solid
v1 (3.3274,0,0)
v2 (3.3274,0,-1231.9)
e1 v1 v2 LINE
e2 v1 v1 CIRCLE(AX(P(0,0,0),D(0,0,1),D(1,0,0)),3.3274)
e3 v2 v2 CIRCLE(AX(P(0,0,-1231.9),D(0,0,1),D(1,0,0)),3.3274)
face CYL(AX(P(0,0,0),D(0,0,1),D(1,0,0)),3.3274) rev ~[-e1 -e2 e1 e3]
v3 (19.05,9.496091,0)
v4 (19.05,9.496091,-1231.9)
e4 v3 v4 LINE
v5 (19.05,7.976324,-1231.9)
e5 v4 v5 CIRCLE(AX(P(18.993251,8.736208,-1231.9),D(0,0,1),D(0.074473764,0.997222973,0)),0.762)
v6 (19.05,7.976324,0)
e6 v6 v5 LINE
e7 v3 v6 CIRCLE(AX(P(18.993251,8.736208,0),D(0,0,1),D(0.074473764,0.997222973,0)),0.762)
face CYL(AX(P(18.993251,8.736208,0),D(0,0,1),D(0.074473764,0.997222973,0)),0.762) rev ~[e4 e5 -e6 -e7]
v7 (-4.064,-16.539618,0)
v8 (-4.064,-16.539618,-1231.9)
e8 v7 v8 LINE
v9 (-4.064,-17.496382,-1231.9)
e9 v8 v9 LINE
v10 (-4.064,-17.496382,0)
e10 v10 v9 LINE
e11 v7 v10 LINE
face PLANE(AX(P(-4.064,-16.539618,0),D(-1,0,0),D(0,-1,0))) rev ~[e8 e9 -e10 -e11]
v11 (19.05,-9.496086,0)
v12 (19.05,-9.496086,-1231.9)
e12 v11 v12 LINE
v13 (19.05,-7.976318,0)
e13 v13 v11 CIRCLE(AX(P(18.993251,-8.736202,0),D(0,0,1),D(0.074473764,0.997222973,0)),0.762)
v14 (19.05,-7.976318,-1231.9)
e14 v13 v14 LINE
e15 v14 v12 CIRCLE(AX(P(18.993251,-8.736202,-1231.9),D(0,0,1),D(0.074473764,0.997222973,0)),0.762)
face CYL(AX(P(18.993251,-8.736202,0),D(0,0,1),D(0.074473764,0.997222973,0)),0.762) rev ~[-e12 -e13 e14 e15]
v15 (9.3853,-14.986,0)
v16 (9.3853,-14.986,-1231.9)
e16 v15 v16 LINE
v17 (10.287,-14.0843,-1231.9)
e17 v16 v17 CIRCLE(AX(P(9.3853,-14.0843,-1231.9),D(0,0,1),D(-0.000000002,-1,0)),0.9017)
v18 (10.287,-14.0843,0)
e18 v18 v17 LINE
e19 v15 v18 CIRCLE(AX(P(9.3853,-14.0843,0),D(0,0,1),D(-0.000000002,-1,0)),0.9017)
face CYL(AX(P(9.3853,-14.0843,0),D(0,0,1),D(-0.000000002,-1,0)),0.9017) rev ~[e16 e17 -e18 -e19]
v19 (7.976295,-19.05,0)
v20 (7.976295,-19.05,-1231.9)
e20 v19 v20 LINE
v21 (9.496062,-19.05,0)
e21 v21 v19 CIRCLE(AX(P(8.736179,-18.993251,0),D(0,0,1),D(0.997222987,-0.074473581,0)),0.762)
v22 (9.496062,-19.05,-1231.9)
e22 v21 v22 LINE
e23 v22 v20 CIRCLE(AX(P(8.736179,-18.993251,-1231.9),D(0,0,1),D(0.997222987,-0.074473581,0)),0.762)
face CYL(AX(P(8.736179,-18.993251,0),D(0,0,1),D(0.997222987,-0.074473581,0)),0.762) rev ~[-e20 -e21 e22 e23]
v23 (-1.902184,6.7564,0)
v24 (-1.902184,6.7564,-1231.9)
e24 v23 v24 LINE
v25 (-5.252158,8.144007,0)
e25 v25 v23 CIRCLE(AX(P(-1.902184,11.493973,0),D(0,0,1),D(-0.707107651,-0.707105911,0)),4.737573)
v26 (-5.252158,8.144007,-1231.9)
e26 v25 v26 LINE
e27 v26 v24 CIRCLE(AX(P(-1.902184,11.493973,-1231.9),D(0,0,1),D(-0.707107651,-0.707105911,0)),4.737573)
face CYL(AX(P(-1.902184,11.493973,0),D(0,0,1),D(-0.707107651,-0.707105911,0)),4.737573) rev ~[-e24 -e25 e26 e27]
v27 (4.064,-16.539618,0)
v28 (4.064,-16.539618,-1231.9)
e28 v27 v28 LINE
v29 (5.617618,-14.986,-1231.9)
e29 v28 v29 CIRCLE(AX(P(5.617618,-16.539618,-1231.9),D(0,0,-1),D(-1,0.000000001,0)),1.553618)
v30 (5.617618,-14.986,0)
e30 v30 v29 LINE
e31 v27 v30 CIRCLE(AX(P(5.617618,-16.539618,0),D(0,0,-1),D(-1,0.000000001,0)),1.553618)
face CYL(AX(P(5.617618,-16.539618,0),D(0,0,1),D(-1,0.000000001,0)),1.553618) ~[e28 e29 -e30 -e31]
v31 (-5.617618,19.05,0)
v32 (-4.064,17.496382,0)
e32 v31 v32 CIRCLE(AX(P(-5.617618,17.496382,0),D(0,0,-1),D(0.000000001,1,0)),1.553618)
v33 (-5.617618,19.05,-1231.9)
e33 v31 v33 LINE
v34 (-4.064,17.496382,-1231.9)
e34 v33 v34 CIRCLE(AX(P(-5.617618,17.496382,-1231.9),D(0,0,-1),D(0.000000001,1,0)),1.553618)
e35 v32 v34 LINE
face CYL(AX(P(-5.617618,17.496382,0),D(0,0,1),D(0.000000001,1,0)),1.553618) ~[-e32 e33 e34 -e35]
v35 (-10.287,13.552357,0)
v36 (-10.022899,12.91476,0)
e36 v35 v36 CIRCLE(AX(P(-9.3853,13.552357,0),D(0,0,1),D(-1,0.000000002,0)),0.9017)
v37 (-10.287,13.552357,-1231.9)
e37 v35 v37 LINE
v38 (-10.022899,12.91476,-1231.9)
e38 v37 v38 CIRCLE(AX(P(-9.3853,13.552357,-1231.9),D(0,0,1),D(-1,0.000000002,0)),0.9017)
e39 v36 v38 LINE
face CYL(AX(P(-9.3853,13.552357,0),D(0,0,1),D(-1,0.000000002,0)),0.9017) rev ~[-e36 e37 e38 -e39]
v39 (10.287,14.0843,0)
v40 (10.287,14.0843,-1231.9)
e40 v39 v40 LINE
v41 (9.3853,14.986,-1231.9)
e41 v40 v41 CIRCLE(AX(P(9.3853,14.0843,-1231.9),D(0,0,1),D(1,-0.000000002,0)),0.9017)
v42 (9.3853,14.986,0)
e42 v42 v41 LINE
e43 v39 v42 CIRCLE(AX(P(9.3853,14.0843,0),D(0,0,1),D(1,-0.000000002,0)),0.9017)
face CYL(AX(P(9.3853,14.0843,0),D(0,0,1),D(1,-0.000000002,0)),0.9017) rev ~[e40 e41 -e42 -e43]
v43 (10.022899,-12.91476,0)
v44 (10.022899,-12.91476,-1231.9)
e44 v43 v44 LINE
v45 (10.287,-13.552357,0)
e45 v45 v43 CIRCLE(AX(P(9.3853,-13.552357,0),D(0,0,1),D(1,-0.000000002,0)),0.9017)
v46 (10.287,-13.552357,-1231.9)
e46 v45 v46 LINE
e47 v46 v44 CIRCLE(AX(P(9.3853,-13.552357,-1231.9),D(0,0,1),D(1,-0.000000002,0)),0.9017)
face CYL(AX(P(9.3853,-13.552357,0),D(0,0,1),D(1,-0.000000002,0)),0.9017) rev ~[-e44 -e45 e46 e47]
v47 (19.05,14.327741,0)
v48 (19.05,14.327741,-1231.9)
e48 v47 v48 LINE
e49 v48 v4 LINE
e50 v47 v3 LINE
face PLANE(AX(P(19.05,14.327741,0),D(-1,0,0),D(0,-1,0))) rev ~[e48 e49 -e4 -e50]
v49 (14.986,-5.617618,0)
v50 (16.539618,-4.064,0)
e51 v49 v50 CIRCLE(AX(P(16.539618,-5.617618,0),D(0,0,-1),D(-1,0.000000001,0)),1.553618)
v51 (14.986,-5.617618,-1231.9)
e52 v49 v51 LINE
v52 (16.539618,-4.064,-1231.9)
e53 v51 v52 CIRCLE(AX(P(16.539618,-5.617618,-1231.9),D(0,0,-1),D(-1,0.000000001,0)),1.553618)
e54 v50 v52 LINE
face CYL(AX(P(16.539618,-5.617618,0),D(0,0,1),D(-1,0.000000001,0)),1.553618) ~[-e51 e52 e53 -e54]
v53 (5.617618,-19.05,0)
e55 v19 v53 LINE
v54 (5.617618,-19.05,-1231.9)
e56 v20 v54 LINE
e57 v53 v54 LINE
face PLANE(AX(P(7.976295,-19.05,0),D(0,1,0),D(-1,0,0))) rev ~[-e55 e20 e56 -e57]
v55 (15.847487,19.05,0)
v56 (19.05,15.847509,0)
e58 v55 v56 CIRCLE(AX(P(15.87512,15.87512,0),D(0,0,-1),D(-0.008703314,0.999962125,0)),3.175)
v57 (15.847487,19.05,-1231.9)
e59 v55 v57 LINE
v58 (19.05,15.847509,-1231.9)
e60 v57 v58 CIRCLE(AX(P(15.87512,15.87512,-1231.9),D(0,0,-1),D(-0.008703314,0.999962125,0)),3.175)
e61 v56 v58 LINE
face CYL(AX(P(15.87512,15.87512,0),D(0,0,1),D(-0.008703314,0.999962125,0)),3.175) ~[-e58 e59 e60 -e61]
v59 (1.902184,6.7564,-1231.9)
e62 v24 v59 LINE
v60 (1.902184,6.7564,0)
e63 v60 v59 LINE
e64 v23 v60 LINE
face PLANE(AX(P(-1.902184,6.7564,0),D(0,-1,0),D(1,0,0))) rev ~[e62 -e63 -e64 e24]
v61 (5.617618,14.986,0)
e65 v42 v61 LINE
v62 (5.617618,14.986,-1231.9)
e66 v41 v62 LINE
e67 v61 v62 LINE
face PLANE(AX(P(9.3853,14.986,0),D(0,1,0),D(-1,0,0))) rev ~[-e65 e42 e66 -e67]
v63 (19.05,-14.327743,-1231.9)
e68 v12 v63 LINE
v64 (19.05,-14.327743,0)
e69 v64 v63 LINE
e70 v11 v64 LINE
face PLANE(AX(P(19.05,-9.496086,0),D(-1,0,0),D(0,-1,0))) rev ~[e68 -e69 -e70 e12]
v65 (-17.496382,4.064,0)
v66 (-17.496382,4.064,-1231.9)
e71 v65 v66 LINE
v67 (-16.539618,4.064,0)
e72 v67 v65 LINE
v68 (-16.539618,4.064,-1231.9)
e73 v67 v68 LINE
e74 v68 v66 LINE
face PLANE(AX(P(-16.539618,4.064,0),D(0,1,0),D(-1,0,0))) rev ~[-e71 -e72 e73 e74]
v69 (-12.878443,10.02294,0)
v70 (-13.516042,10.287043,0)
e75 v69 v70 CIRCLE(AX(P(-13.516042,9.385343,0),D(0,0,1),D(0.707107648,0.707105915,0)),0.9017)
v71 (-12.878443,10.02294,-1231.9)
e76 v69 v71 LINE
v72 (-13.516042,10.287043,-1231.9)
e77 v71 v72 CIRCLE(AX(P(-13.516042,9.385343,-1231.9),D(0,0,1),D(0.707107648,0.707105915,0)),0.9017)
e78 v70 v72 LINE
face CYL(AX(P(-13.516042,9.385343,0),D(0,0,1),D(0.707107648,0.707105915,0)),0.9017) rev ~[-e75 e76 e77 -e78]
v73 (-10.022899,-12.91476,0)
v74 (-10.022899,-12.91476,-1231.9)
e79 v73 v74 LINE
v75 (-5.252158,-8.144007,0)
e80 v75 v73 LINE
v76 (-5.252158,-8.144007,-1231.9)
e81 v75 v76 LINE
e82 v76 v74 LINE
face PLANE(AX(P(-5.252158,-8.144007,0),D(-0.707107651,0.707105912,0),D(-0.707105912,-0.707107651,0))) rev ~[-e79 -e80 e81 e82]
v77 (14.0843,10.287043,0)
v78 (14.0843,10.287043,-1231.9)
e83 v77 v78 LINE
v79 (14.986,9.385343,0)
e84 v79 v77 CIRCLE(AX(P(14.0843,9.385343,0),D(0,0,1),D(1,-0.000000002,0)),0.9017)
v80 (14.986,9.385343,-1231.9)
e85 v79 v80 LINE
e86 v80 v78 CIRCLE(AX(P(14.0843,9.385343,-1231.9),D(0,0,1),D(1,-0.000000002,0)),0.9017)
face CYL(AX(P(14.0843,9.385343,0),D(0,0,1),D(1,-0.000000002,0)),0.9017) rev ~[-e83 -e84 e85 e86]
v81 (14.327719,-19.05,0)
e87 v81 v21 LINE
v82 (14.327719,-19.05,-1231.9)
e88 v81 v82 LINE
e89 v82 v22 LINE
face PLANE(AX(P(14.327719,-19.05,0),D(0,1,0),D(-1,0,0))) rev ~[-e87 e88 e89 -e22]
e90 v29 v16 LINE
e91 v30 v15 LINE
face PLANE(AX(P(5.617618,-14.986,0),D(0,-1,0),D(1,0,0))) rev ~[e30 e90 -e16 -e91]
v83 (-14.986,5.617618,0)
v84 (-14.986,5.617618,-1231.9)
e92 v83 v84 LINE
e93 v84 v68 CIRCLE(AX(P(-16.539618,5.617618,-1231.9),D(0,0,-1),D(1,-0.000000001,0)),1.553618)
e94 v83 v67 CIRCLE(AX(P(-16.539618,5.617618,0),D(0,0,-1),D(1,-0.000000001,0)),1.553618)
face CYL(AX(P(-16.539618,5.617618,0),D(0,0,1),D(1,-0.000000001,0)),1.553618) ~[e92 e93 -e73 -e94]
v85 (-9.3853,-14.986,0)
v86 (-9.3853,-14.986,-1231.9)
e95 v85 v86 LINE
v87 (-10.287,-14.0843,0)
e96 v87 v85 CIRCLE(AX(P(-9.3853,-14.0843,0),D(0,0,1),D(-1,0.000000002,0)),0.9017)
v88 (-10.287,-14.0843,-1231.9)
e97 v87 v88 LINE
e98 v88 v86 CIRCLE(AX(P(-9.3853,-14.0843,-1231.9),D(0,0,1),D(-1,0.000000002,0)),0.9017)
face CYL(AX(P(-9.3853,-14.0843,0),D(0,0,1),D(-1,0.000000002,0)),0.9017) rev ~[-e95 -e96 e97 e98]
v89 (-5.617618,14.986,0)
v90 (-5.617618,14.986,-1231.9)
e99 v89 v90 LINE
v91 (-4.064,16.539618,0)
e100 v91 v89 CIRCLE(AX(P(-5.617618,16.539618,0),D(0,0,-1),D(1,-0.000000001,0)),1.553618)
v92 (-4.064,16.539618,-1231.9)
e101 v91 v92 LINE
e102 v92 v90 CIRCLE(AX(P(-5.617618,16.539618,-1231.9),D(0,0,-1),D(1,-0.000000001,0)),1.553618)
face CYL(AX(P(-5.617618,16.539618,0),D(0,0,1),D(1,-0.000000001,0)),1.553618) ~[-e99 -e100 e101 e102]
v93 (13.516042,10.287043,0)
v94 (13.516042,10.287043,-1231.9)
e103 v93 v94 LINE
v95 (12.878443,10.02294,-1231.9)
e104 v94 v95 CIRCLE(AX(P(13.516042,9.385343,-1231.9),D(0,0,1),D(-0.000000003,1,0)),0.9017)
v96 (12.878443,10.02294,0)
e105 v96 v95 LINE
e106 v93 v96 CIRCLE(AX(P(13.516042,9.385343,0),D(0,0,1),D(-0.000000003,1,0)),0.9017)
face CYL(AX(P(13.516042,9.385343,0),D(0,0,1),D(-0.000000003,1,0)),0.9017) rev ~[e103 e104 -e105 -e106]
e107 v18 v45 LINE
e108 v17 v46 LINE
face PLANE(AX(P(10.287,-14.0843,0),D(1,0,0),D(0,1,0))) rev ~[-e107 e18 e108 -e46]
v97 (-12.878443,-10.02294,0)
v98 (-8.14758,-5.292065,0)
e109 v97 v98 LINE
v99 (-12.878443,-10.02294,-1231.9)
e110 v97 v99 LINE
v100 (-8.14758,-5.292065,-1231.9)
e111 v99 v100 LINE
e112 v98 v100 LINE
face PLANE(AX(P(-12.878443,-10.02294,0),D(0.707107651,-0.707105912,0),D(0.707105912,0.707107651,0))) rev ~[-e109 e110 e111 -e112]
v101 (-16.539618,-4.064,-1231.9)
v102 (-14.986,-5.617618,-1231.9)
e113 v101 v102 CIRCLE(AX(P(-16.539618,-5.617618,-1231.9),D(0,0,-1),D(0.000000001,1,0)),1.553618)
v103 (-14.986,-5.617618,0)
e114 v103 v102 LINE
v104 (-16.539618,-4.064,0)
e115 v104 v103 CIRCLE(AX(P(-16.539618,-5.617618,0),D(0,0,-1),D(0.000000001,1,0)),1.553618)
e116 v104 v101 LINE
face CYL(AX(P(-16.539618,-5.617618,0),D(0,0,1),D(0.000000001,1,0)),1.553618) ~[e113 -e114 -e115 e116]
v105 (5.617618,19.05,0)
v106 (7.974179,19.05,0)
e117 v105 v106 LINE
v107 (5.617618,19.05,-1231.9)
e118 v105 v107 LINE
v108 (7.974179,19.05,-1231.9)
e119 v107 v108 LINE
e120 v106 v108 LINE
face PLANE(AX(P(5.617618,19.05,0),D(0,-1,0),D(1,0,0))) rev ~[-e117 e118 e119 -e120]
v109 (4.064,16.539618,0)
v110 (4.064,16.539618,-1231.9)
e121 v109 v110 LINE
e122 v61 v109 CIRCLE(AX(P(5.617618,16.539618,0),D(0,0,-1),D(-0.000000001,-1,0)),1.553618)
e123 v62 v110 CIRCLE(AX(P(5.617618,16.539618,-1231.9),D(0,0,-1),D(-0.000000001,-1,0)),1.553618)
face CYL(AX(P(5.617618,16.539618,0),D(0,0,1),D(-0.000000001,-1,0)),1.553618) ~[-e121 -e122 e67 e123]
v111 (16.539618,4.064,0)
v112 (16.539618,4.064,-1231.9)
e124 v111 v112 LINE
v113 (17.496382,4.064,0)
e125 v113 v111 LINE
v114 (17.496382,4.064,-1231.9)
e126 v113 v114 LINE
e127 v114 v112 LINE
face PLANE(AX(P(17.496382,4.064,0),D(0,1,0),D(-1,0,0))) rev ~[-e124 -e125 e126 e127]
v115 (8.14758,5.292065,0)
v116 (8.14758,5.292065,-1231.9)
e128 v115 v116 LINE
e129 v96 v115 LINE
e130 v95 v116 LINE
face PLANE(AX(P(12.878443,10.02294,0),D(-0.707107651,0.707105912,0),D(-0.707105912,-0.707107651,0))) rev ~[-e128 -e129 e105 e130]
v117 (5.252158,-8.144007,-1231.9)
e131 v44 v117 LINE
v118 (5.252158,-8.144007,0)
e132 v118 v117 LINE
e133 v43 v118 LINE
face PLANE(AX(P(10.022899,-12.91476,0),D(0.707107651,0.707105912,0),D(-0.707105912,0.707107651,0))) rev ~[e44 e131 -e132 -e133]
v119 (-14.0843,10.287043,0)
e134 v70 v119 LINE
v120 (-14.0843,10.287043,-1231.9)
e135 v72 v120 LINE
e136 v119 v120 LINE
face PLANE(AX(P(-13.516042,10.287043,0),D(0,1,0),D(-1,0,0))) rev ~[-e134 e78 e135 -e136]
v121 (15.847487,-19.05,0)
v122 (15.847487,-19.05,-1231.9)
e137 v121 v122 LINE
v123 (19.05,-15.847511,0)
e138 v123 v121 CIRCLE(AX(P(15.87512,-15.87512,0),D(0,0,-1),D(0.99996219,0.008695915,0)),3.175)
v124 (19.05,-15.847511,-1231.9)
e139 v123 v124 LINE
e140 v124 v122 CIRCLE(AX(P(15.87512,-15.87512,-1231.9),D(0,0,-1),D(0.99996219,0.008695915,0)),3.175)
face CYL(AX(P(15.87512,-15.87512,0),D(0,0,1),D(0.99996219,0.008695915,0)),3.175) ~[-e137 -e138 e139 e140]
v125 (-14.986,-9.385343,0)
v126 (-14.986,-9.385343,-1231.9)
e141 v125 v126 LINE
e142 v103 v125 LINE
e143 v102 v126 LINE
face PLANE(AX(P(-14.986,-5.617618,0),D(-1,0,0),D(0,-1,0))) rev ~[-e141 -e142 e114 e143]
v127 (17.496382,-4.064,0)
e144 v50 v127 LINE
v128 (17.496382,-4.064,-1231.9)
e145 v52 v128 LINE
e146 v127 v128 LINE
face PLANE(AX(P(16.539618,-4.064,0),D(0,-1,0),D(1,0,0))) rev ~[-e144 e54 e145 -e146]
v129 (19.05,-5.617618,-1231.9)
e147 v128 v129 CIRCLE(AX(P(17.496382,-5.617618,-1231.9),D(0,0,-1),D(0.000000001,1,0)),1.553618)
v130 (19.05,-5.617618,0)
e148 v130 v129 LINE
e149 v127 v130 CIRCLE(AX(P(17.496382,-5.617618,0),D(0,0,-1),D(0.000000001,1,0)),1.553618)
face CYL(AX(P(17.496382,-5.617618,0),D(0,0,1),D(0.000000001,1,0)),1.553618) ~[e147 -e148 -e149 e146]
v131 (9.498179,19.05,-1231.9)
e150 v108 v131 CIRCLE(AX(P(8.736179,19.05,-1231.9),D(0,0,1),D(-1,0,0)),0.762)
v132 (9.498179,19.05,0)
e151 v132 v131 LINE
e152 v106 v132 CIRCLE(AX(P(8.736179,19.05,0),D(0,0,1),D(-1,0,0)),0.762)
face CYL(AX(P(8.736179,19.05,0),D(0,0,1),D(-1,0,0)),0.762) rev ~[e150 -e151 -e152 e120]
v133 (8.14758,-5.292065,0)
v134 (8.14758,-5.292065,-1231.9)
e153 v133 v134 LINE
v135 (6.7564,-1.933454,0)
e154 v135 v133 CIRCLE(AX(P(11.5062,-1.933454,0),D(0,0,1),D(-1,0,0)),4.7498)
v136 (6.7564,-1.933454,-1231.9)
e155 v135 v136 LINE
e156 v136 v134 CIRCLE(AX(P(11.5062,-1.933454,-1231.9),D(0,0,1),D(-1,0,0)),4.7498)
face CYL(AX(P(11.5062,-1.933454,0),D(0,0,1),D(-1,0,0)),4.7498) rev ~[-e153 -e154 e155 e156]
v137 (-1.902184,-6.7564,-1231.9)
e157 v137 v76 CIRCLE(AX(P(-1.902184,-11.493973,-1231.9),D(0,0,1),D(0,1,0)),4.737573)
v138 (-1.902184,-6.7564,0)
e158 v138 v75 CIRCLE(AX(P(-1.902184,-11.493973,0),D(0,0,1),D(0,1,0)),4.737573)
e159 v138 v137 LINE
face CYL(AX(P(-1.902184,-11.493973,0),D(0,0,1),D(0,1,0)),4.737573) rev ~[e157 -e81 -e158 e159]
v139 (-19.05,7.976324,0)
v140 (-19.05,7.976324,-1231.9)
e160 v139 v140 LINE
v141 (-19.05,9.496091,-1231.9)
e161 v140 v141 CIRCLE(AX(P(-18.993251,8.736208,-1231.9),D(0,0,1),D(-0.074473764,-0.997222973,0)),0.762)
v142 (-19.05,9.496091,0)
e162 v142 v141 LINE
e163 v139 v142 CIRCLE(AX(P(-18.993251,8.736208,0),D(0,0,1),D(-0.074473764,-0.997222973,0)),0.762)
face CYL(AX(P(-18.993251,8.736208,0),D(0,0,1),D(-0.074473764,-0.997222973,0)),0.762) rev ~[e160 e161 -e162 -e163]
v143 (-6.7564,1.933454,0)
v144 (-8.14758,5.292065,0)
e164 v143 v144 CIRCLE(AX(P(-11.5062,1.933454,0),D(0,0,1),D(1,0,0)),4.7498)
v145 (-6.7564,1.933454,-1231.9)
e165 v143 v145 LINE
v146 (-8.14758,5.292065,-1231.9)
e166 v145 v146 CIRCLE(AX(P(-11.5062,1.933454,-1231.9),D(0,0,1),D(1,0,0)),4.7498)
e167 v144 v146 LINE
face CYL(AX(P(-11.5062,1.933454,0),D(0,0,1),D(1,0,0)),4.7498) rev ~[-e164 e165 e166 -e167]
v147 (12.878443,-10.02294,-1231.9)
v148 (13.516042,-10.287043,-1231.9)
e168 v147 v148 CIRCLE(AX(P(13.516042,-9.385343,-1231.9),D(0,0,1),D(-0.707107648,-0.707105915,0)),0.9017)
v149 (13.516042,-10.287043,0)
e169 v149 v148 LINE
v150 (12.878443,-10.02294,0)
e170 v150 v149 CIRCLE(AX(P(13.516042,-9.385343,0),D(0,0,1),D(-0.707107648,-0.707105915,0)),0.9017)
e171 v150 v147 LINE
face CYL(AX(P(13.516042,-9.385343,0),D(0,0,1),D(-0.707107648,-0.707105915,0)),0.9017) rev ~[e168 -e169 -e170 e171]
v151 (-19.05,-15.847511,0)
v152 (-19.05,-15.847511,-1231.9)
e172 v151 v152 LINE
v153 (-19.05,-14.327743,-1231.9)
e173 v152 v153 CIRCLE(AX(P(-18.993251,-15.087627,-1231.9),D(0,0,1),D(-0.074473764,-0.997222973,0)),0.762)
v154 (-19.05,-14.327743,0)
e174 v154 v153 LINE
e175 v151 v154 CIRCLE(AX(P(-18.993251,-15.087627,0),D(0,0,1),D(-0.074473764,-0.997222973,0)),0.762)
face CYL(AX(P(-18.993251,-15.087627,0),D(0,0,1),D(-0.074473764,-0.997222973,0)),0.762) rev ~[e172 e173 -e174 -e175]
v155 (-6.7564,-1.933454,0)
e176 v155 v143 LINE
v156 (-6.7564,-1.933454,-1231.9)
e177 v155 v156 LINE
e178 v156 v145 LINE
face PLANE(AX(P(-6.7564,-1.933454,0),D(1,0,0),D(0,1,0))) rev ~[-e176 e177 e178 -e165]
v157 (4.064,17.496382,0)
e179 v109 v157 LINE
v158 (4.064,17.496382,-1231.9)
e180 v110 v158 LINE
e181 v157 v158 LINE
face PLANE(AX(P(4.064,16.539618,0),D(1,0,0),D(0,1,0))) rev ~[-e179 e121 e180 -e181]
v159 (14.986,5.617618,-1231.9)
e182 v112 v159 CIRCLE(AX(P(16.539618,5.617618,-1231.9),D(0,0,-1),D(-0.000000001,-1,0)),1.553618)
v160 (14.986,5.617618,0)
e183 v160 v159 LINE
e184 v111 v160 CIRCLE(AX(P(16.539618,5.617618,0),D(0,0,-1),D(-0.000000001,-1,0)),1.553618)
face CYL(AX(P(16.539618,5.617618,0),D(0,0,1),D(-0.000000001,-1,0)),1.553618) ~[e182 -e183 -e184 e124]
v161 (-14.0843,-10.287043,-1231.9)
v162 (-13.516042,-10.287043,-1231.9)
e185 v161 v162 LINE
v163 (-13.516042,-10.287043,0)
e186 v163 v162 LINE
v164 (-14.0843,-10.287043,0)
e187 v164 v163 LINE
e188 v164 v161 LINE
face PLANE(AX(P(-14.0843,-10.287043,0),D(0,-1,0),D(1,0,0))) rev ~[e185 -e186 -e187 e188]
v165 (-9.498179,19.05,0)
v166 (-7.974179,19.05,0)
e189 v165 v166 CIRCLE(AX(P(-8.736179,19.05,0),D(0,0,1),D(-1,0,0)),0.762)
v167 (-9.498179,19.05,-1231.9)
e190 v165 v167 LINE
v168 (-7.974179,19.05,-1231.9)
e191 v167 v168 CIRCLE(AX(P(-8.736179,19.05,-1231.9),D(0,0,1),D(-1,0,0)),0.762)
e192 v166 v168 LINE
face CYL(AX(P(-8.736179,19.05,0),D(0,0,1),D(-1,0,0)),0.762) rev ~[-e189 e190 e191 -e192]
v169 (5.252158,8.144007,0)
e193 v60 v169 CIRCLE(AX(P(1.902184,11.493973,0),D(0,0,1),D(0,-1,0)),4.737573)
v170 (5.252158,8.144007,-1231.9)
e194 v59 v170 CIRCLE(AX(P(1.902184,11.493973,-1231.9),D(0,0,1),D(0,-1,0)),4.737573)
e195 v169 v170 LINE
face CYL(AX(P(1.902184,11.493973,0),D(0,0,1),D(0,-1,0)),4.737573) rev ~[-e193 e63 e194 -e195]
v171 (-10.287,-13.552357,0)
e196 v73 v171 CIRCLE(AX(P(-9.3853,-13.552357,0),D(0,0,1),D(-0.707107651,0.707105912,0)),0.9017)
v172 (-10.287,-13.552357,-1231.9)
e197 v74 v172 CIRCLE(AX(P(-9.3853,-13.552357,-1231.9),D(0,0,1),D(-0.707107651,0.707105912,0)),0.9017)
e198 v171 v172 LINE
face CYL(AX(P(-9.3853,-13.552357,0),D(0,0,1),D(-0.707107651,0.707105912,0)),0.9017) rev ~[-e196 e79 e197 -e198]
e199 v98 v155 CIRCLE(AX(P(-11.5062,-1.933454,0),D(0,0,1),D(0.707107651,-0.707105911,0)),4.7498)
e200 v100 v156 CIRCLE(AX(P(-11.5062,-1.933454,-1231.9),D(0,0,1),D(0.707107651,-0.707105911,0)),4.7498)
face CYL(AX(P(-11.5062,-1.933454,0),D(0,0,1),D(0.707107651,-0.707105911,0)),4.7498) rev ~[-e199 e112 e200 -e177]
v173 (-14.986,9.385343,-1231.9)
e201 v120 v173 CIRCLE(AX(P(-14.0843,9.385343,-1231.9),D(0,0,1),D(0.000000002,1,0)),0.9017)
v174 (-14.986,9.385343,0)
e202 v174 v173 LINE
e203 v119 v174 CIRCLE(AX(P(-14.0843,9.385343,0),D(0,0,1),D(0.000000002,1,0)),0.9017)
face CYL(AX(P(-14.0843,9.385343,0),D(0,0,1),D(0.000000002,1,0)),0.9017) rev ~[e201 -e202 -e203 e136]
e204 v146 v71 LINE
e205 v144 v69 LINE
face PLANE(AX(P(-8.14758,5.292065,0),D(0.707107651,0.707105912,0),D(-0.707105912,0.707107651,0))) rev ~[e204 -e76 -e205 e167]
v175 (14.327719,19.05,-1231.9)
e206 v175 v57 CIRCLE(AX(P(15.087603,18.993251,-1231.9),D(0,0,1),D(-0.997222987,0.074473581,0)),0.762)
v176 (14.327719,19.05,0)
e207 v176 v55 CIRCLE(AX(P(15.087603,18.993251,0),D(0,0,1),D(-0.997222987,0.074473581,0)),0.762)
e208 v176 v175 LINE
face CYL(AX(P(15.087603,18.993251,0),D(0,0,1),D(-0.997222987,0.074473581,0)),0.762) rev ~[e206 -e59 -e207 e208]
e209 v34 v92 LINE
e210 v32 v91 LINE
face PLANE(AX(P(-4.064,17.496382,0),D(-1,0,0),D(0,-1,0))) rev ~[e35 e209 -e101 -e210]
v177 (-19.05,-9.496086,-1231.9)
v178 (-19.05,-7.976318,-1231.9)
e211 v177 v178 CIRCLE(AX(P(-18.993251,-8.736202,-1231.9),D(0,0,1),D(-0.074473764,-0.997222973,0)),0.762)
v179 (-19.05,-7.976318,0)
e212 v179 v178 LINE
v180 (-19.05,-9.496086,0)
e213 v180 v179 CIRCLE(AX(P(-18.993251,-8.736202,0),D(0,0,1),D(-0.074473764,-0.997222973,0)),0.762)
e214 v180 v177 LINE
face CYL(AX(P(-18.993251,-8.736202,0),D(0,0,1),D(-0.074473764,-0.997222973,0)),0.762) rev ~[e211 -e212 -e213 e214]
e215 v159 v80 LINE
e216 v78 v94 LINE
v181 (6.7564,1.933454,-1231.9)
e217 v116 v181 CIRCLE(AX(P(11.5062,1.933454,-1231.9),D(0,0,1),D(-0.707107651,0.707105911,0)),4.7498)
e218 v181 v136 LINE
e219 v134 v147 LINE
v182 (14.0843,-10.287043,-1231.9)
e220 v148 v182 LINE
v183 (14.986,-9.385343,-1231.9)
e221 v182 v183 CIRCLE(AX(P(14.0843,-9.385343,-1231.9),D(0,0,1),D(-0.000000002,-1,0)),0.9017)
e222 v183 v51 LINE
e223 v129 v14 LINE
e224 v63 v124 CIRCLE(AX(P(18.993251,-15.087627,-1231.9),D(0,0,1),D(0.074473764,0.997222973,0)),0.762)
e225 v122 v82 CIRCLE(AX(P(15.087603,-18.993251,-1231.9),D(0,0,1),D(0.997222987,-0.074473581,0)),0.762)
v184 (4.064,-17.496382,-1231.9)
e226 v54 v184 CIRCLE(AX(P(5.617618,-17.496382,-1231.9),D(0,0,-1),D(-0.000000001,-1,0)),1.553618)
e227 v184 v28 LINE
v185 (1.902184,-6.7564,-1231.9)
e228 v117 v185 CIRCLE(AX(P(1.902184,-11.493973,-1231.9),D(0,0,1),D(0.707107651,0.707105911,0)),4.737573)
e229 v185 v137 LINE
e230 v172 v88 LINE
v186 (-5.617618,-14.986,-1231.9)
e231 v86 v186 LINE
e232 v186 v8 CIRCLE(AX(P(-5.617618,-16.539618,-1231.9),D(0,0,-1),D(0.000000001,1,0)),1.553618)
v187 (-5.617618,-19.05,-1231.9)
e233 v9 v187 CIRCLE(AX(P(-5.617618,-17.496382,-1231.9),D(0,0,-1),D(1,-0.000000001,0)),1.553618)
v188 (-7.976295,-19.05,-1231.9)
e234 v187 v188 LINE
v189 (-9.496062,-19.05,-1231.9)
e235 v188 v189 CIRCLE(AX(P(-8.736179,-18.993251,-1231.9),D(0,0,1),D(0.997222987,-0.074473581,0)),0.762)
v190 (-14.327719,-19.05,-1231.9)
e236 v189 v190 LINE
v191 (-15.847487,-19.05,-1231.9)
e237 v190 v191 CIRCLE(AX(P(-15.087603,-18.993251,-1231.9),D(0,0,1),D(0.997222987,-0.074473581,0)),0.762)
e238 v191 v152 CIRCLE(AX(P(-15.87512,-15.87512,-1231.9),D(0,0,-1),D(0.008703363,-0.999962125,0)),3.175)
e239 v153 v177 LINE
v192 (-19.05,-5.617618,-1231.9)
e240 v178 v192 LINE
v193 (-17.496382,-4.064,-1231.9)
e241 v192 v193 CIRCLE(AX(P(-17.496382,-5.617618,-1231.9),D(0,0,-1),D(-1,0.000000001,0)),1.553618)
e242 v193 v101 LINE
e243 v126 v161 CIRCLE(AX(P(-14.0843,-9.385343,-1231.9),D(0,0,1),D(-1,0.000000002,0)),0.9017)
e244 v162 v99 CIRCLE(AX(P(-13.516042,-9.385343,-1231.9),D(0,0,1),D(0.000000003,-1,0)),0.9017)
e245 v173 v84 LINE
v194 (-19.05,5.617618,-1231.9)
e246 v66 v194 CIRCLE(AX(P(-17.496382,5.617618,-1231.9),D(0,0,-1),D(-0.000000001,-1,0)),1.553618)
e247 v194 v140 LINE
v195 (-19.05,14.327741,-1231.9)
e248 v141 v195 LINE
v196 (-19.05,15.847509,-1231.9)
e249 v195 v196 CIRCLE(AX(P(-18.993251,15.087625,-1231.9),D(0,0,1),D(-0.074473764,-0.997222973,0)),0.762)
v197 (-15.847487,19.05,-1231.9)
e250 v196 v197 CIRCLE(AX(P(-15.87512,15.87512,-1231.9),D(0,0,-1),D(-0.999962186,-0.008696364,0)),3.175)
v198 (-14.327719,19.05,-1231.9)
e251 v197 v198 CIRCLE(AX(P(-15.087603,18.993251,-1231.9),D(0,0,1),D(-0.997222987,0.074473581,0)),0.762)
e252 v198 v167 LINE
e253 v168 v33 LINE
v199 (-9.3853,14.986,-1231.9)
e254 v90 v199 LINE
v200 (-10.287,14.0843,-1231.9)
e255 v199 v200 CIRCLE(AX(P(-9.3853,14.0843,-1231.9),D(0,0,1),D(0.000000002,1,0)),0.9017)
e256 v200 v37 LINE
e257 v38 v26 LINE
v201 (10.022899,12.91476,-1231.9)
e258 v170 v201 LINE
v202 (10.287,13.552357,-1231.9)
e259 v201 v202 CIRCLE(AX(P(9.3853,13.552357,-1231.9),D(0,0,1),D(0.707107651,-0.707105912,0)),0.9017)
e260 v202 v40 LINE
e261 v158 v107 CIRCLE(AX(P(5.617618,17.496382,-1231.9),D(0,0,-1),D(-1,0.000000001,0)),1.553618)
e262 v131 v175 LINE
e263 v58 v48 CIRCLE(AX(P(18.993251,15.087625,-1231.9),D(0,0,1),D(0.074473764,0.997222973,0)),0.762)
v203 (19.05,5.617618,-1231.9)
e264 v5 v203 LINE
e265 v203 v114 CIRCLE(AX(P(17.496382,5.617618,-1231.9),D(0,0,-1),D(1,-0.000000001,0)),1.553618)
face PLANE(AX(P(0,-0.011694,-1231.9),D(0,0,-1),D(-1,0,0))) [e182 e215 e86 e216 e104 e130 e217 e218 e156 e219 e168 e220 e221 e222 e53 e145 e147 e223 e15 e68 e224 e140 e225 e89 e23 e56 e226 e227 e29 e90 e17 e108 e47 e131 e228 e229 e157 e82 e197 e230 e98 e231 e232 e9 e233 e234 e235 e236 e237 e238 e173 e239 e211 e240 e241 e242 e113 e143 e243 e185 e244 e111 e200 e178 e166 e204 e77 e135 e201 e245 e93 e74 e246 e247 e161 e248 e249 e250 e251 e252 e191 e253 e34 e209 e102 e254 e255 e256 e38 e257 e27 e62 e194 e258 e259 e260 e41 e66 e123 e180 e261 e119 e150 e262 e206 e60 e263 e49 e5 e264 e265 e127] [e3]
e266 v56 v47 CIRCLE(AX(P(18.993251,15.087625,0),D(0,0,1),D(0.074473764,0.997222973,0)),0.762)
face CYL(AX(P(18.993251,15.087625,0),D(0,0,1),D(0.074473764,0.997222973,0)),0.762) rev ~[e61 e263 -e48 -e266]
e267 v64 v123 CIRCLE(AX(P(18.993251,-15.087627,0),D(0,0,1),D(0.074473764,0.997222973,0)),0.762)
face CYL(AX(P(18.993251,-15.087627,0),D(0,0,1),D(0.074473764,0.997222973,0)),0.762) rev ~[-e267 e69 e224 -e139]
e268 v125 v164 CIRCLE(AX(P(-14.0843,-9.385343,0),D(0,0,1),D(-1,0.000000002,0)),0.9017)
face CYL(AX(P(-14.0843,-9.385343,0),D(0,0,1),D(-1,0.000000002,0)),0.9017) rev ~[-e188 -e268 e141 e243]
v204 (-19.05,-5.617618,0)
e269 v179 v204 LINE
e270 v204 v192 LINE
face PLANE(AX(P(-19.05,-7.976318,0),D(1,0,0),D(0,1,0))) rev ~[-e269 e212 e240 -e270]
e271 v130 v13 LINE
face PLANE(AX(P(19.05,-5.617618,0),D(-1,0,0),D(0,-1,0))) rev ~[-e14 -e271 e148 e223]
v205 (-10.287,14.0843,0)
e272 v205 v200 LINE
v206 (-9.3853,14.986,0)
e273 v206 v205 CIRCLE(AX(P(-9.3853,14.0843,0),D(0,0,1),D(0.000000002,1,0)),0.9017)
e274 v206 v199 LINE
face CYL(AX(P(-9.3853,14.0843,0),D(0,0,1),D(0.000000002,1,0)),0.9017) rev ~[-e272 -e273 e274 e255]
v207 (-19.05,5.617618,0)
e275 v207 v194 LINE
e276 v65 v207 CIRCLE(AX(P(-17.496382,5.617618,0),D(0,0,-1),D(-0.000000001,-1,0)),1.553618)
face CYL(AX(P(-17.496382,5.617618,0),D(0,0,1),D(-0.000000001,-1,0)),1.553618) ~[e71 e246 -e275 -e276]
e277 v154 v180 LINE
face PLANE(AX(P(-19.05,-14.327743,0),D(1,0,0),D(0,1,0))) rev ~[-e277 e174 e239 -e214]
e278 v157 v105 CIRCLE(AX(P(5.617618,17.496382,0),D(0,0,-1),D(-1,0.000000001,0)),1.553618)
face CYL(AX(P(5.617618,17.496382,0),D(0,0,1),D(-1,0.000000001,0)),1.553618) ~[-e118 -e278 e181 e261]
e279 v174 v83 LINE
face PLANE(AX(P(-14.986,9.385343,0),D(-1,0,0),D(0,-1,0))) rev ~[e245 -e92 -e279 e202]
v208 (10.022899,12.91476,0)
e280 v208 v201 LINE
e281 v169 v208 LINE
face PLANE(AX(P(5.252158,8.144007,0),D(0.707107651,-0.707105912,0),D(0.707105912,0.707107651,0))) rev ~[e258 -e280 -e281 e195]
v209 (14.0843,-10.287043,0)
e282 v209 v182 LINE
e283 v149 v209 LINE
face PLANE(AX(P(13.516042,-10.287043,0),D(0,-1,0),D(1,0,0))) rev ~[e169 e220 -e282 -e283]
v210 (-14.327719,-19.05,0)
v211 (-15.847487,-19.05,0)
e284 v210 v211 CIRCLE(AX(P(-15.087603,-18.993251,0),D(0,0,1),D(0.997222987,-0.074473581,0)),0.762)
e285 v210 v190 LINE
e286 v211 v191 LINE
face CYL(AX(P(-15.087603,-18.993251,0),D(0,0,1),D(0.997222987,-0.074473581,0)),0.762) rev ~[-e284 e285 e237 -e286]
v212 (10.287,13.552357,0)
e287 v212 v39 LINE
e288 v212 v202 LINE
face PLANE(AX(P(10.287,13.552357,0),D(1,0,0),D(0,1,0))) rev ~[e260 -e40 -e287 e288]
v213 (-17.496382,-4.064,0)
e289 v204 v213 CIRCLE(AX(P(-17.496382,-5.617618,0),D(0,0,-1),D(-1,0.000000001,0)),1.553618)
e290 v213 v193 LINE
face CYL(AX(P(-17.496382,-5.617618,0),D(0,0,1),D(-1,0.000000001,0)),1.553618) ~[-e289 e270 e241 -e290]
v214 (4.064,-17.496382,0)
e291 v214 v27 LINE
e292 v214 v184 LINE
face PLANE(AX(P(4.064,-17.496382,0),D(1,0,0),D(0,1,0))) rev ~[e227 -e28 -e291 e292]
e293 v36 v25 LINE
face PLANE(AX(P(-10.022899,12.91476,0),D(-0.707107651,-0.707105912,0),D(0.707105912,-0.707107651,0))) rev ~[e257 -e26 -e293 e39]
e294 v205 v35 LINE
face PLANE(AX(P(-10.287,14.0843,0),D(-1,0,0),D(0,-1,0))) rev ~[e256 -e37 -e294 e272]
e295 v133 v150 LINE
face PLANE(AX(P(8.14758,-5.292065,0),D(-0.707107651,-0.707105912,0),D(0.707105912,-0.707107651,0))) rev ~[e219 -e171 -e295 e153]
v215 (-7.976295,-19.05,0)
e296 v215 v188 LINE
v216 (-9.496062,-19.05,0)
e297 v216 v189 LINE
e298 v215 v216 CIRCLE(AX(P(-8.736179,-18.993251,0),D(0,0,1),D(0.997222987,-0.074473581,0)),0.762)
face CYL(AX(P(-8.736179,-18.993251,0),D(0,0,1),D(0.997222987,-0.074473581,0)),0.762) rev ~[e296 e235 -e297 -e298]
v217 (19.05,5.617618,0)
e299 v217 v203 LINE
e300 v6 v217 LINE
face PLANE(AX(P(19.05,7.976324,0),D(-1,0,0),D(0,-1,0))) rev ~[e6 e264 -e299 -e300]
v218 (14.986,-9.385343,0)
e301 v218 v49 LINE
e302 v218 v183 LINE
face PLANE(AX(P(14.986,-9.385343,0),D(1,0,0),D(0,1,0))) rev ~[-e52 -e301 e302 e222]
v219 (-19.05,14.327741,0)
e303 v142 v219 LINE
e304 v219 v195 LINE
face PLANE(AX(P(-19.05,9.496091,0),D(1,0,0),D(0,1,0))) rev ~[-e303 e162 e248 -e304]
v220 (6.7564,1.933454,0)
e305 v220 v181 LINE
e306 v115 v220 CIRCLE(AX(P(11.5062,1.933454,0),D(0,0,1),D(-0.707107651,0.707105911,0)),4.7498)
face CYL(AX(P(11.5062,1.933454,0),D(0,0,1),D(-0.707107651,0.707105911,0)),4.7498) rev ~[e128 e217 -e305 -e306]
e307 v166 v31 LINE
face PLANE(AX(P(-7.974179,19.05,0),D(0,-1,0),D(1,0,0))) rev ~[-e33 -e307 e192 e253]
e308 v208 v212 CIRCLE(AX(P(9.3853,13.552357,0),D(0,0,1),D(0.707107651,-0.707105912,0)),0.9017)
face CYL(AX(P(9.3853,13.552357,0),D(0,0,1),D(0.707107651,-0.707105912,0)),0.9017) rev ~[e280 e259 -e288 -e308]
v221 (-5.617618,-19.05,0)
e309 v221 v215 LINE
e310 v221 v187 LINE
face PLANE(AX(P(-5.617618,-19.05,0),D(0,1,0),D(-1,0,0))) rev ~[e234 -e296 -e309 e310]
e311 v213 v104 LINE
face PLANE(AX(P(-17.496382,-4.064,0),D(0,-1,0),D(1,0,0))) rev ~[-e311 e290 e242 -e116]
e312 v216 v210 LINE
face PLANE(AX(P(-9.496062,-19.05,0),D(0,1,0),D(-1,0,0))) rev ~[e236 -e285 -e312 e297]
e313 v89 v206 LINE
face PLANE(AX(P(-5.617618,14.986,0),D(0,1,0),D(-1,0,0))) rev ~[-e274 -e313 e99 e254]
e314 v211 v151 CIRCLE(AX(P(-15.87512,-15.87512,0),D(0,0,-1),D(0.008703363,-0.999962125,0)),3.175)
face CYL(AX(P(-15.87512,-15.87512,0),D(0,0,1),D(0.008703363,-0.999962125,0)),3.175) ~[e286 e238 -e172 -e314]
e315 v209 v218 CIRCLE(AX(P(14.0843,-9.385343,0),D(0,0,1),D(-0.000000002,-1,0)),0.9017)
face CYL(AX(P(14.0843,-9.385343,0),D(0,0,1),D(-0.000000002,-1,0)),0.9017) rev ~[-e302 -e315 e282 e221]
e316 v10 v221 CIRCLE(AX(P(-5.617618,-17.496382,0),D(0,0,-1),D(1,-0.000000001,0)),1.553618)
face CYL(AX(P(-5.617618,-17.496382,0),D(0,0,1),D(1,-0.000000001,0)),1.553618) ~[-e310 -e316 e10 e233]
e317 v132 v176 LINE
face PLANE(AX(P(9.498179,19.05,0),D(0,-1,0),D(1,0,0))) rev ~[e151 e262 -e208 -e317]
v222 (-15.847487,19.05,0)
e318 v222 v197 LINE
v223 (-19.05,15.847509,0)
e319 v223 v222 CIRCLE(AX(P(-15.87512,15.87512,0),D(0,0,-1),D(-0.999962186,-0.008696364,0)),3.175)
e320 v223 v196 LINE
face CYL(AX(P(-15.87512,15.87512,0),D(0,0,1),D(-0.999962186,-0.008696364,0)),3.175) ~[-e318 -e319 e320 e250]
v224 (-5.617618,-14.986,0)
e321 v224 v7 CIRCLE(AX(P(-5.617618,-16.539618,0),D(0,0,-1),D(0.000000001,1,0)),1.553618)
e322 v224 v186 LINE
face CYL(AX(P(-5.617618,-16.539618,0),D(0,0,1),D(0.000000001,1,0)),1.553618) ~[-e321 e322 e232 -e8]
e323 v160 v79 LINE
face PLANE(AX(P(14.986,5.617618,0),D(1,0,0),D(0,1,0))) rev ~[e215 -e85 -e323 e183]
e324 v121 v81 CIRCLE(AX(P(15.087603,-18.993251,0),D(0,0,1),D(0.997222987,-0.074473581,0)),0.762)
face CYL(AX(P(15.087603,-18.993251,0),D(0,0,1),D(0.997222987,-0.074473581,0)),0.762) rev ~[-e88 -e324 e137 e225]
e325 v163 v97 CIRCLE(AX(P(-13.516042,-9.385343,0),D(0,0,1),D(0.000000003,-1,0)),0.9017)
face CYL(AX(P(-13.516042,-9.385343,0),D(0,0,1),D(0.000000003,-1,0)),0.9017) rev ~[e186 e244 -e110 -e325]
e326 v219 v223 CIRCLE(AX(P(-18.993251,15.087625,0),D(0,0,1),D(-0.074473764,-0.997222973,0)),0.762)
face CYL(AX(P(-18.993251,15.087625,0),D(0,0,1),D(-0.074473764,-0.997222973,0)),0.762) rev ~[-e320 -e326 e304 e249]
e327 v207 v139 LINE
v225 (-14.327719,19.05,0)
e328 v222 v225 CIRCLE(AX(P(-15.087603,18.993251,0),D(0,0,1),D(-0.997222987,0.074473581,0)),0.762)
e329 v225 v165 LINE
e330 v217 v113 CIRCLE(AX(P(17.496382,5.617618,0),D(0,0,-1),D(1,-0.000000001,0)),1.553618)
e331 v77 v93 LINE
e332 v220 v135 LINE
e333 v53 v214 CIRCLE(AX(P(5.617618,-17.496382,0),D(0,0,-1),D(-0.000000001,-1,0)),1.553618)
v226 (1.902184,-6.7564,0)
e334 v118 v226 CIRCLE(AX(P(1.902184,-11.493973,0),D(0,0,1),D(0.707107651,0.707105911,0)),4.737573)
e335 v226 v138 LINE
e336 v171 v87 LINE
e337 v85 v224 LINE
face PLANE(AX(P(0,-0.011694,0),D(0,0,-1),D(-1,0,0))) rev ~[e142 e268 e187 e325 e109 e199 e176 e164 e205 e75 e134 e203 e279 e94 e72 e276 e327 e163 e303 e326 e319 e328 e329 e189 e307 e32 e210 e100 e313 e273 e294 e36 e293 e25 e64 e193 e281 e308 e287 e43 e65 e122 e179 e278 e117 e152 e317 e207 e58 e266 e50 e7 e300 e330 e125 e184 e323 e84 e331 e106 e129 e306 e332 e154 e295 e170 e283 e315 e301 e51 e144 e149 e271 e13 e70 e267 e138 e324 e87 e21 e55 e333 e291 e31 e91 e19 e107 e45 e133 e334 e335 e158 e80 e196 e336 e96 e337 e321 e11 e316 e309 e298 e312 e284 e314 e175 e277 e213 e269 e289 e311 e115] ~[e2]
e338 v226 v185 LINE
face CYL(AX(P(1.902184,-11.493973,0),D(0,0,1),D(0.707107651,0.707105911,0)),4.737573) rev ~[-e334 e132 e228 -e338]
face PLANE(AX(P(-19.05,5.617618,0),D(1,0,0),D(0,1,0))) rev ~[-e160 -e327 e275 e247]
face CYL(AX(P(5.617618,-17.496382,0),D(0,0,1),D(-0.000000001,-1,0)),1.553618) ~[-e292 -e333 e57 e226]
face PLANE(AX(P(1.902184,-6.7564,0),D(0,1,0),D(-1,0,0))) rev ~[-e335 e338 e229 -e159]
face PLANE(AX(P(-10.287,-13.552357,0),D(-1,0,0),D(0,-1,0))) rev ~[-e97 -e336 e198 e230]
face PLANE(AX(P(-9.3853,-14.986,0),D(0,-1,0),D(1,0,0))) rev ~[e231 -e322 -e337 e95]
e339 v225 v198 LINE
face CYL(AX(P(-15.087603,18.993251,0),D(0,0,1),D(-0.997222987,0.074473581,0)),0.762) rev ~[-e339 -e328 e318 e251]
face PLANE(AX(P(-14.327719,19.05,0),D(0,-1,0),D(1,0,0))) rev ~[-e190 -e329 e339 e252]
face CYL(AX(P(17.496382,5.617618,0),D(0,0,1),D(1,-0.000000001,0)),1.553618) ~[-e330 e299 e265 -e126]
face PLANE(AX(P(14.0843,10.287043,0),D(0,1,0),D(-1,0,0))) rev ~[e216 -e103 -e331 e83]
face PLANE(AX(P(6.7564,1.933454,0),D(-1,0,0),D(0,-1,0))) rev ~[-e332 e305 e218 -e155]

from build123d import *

# Parameters (mm, degrees)
SKETCH1_R      = 3.3274
EXTRUDE1_DEPTH = 1231.9


with BuildPart() as part:
    # Sketch1 → Extrude1 (new body)
    with BuildSketch(Plane.XY):
        with BuildLine():
            Line((-10.022898969, 12.91475973), (-5.252158105, 8.144007132))
            ThreePointArc((-5.252158105, 8.144007132), (-3.715177372, 7.117027388), (-1.902183975, 6.7564))
            Line((-1.902183975, 6.7564), (1.902183975, 6.7564))
            ThreePointArc((1.902183975, 6.7564), (3.715177372, 7.117027388), (5.252158105, 8.144007132))
            Line((5.252158105, 8.144007132), (10.022898969, 12.91475973))
            ThreePointArc((10.022898969, 12.91475973), (10.218362387, 13.207291992), (10.287, 13.552357131))
            Line((10.287, 13.552357131), (10.287, 14.0843))
            ThreePointArc((10.287, 14.0843), (10.022898185, 14.721898185), (9.3853, 14.986))
            Line((9.3853, 14.986), (5.617617549, 14.986))
            ThreePointArc((5.617617549, 14.986), (4.519044045, 15.441044045), (4.064, 16.539617549))
            Line((4.064, 16.539617549), (4.064, 17.496382451))
            ThreePointArc((4.064, 17.496382451), (4.519044045, 18.594955955), (5.617617549, 19.05))
            Line((5.617617549, 19.05), (7.974178704, 19.05))
            ThreePointArc((7.974178704, 19.05), (8.736178704, 18.288), (9.498178704, 19.05))
            Line((9.498178704, 19.05), (14.327719207, 19.05))
            ThreePointArc((14.327719207, 19.05), (15.087603123, 18.231251131), (15.847487039, 19.05))
            ThreePointArc((15.847487039, 19.05), (18.120176289, 18.120192083), (19.05, 15.847509295))
            ThreePointArc((19.05, 15.847509295), (18.231250992, 15.08762539), (19.05, 14.327741484))
            Line((19.05, 14.327741484), (19.05, 9.496091471))
            ThreePointArc((19.05, 9.496091471), (18.231250992, 8.736207565), (19.05, 7.97632366))
            Line((19.05, 7.97632366), (19.05, 5.617617549))
            ThreePointArc((19.05, 5.617617549), (18.594955955, 4.519044045), (17.496382451, 4.064))
            Line((17.496382451, 4.064), (16.539617549, 4.064))
            ThreePointArc((16.539617549, 4.064), (15.441044045, 4.519044045), (14.986, 5.617617549))
            Line((14.986, 5.617617549), (14.986, 9.385342516))
            ThreePointArc((14.986, 9.385342516), (14.721898185, 10.022940701), (14.0843, 10.287042516))
            Line((14.0843, 10.287042516), (13.516042086, 10.287042516))
            ThreePointArc((13.516042086, 10.287042516), (13.170975923, 10.218404478), (12.878443117, 10.022939917))
            Line((12.878443117, 10.022939917), (8.14758008, 5.292065243))
            ThreePointArc((8.14758008, 5.292065243), (7.117955879, 3.751120653), (6.7564, 1.933453584))
            Line((6.7564, 1.933453584), (6.7564, -1.933453584))
            ThreePointArc((6.7564, -1.933453584), (7.117955879, -3.751120653), (8.14758008, -5.292065243))
            Line((8.14758008, -5.292065243), (12.878443117, -10.022939917))
            ThreePointArc((12.878443117, -10.022939917), (13.170975923, -10.218404478), (13.516042086, -10.287042516))
            Line((13.516042086, -10.287042516), (14.0843, -10.287042516))
            ThreePointArc((14.0843, -10.287042516), (14.721898185, -10.022940701), (14.986, -9.385342516))
            Line((14.986, -9.385342516), (14.986, -5.617617549))
            ThreePointArc((14.986, -5.617617549), (15.441044045, -4.519044045), (16.539617549, -4.064))
            Line((16.539617549, -4.064), (17.496382451, -4.064))
            ThreePointArc((17.496382451, -4.064), (18.594955955, -4.519044045), (19.05, -5.617617549))
            Line((19.05, -5.617617549), (19.05, -7.976318491))
            ThreePointArc((19.05, -7.976318491), (18.231250992, -8.736202396), (19.05, -9.496086302))
            Line((19.05, -9.496086302), (19.05, -14.32774291))
            ThreePointArc((19.05, -14.32774291), (18.231250992, -15.087626816), (19.05, -15.847510721))
            ThreePointArc((19.05, -15.847510721), (18.120175716, -18.120192644), (15.847486868, -19.05))
            ThreePointArc((15.847486868, -19.05), (15.087602952, -18.231251131), (14.327719036, -19.05))
            Line((14.327719036, -19.05), (9.496062448, -19.05))
            ThreePointArc((9.496062448, -19.05), (8.736178532, -18.231251131), (7.976294616, -19.05))
            Line((7.976294616, -19.05), (5.617617549, -19.05))
            ThreePointArc((5.617617549, -19.05), (4.519044045, -18.594955955), (4.064, -17.496382451))
            Line((4.064, -17.496382451), (4.064, -16.539617549))
            ThreePointArc((4.064, -16.539617549), (4.519044045, -15.441044045), (5.617617549, -14.986))
            Line((5.617617549, -14.986), (9.3853, -14.986))
            ThreePointArc((9.3853, -14.986), (10.022898185, -14.721898185), (10.287, -14.0843))
            Line((10.287, -14.0843), (10.287, -13.552357131))
            ThreePointArc((10.287, -13.552357131), (10.218362387, -13.207291992), (10.022898969, -12.91475973))
            Line((10.022898969, -12.91475973), (5.252158105, -8.144007132))
            ThreePointArc((5.252158105, -8.144007132), (3.715177372, -7.117027388), (1.902183975, -6.7564))
            Line((1.902183975, -6.7564), (-1.902183975, -6.7564))
            ThreePointArc((-1.902183975, -6.7564), (-3.715177372, -7.117027388), (-5.252158105, -8.144007132))
            Line((-5.252158105, -8.144007132), (-10.022898969, -12.91475973))
            ThreePointArc((-10.022898969, -12.91475973), (-10.218362387, -13.207291992), (-10.287, -13.552357131))
            Line((-10.287, -13.552357131), (-10.287, -14.0843))
            ThreePointArc((-10.287, -14.0843), (-10.022898185, -14.721898185), (-9.3853, -14.986))
            Line((-9.3853, -14.986), (-5.617617549, -14.986))
            ThreePointArc((-5.617617549, -14.986), (-4.519044045, -15.441044045), (-4.064, -16.539617549))
            Line((-4.064, -16.539617549), (-4.064, -17.496382451))
            ThreePointArc((-4.064, -17.496382451), (-4.519044045, -18.594955955), (-5.617617549, -19.05))
            Line((-5.617617549, -19.05), (-7.976294616, -19.05))
            ThreePointArc((-7.976294616, -19.05), (-8.736178532, -18.231251131), (-9.496062448, -19.05))
            Line((-9.496062448, -19.05), (-14.327719036, -19.05))
            ThreePointArc((-14.327719036, -19.05), (-15.087602952, -18.231251131), (-15.847486868, -19.05))
            ThreePointArc((-15.847486868, -19.05), (-18.120175716, -18.120192644), (-19.05, -15.847510721))
            ThreePointArc((-19.05, -15.847510721), (-18.231250992, -15.087626816), (-19.05, -14.32774291))
            Line((-19.05, -14.32774291), (-19.05, -9.496086302))
            ThreePointArc((-19.05, -9.496086302), (-18.231250992, -8.736202396), (-19.05, -7.976318491))
            Line((-19.05, -7.976318491), (-19.05, -5.617617549))
            ThreePointArc((-19.05, -5.617617549), (-18.594955955, -4.519044045), (-17.496382451, -4.064))
            Line((-17.496382451, -4.064), (-16.539617549, -4.064))
            ThreePointArc((-16.539617549, -4.064), (-15.441044045, -4.519044045), (-14.986, -5.617617549))
            Line((-14.986, -5.617617549), (-14.986, -9.385342516))
            ThreePointArc((-14.986, -9.385342516), (-14.721898185, -10.022940701), (-14.0843, -10.287042516))
            Line((-14.0843, -10.287042516), (-13.516042086, -10.287042516))
            ThreePointArc((-13.516042086, -10.287042516), (-13.170975923, -10.218404478), (-12.878443117, -10.022939917))
            Line((-12.878443117, -10.022939917), (-8.14758008, -5.292065243))
            ThreePointArc((-8.14758008, -5.292065243), (-7.117955879, -3.751120653), (-6.7564, -1.933453584))
            Line((-6.7564, -1.933453584), (-6.7564, 1.933453584))
            ThreePointArc((-6.7564, 1.933453584), (-7.117955879, 3.751120653), (-8.14758008, 5.292065243))
            Line((-8.14758008, 5.292065243), (-12.878443117, 10.022939917))
            ThreePointArc((-12.878443117, 10.022939917), (-13.170975923, 10.218404478), (-13.516042086, 10.287042516))
            Line((-13.516042086, 10.287042516), (-14.0843, 10.287042516))
            ThreePointArc((-14.0843, 10.287042516), (-14.721898185, 10.022940701), (-14.986, 9.385342516))
            Line((-14.986, 9.385342516), (-14.986, 5.617617549))
            ThreePointArc((-14.986, 5.617617549), (-15.441044045, 4.519044045), (-16.539617549, 4.064))
            Line((-16.539617549, 4.064), (-17.496382451, 4.064))
            ThreePointArc((-17.496382451, 4.064), (-18.594955955, 4.519044045), (-19.05, 5.617617549))
            Line((-19.05, 5.617617549), (-19.05, 7.97632366))
            ThreePointArc((-19.05, 7.97632366), (-18.231250992, 8.736207565), (-19.05, 9.496091471))
            Line((-19.05, 9.496091471), (-19.05, 14.327741484))
            ThreePointArc((-19.05, 14.327741484), (-18.231250992, 15.08762539), (-19.05, 15.847509295))
            ThreePointArc((-19.05, 15.847509295), (-18.120176289, 18.120192083), (-15.847487039, 19.05))
            ThreePointArc((-15.847487039, 19.05), (-15.087603123, 18.231251131), (-14.327719207, 19.05))
            Line((-14.327719207, 19.05), (-9.498178704, 19.05))
            ThreePointArc((-9.498178704, 19.05), (-8.736178704, 18.288), (-7.974178704, 19.05))
            Line((-7.974178704, 19.05), (-5.617617549, 19.05))
            ThreePointArc((-5.617617549, 19.05), (-4.519044045, 18.594955955), (-4.064, 17.496382451))
            Line((-4.064, 17.496382451), (-4.064, 16.539617549))
            ThreePointArc((-4.064, 16.539617549), (-4.519044045, 15.441044045), (-5.617617549, 14.986))
            Line((-5.617617549, 14.986), (-9.3853, 14.986))
            ThreePointArc((-9.3853, 14.986), (-10.022898185, 14.721898185), (-10.287, 14.0843))
            Line((-10.287, 14.0843), (-10.287, 13.552357131))
            ThreePointArc((-10.287, 13.552357131), (-10.218362387, 13.207291992), (-10.022898969, 12.91475973))
        make_face()
        Circle(SKETCH1_R, mode=Mode.SUBTRACT)
    extrude(amount=-EXTRUDE1_DEPTH)


solid = part.part
